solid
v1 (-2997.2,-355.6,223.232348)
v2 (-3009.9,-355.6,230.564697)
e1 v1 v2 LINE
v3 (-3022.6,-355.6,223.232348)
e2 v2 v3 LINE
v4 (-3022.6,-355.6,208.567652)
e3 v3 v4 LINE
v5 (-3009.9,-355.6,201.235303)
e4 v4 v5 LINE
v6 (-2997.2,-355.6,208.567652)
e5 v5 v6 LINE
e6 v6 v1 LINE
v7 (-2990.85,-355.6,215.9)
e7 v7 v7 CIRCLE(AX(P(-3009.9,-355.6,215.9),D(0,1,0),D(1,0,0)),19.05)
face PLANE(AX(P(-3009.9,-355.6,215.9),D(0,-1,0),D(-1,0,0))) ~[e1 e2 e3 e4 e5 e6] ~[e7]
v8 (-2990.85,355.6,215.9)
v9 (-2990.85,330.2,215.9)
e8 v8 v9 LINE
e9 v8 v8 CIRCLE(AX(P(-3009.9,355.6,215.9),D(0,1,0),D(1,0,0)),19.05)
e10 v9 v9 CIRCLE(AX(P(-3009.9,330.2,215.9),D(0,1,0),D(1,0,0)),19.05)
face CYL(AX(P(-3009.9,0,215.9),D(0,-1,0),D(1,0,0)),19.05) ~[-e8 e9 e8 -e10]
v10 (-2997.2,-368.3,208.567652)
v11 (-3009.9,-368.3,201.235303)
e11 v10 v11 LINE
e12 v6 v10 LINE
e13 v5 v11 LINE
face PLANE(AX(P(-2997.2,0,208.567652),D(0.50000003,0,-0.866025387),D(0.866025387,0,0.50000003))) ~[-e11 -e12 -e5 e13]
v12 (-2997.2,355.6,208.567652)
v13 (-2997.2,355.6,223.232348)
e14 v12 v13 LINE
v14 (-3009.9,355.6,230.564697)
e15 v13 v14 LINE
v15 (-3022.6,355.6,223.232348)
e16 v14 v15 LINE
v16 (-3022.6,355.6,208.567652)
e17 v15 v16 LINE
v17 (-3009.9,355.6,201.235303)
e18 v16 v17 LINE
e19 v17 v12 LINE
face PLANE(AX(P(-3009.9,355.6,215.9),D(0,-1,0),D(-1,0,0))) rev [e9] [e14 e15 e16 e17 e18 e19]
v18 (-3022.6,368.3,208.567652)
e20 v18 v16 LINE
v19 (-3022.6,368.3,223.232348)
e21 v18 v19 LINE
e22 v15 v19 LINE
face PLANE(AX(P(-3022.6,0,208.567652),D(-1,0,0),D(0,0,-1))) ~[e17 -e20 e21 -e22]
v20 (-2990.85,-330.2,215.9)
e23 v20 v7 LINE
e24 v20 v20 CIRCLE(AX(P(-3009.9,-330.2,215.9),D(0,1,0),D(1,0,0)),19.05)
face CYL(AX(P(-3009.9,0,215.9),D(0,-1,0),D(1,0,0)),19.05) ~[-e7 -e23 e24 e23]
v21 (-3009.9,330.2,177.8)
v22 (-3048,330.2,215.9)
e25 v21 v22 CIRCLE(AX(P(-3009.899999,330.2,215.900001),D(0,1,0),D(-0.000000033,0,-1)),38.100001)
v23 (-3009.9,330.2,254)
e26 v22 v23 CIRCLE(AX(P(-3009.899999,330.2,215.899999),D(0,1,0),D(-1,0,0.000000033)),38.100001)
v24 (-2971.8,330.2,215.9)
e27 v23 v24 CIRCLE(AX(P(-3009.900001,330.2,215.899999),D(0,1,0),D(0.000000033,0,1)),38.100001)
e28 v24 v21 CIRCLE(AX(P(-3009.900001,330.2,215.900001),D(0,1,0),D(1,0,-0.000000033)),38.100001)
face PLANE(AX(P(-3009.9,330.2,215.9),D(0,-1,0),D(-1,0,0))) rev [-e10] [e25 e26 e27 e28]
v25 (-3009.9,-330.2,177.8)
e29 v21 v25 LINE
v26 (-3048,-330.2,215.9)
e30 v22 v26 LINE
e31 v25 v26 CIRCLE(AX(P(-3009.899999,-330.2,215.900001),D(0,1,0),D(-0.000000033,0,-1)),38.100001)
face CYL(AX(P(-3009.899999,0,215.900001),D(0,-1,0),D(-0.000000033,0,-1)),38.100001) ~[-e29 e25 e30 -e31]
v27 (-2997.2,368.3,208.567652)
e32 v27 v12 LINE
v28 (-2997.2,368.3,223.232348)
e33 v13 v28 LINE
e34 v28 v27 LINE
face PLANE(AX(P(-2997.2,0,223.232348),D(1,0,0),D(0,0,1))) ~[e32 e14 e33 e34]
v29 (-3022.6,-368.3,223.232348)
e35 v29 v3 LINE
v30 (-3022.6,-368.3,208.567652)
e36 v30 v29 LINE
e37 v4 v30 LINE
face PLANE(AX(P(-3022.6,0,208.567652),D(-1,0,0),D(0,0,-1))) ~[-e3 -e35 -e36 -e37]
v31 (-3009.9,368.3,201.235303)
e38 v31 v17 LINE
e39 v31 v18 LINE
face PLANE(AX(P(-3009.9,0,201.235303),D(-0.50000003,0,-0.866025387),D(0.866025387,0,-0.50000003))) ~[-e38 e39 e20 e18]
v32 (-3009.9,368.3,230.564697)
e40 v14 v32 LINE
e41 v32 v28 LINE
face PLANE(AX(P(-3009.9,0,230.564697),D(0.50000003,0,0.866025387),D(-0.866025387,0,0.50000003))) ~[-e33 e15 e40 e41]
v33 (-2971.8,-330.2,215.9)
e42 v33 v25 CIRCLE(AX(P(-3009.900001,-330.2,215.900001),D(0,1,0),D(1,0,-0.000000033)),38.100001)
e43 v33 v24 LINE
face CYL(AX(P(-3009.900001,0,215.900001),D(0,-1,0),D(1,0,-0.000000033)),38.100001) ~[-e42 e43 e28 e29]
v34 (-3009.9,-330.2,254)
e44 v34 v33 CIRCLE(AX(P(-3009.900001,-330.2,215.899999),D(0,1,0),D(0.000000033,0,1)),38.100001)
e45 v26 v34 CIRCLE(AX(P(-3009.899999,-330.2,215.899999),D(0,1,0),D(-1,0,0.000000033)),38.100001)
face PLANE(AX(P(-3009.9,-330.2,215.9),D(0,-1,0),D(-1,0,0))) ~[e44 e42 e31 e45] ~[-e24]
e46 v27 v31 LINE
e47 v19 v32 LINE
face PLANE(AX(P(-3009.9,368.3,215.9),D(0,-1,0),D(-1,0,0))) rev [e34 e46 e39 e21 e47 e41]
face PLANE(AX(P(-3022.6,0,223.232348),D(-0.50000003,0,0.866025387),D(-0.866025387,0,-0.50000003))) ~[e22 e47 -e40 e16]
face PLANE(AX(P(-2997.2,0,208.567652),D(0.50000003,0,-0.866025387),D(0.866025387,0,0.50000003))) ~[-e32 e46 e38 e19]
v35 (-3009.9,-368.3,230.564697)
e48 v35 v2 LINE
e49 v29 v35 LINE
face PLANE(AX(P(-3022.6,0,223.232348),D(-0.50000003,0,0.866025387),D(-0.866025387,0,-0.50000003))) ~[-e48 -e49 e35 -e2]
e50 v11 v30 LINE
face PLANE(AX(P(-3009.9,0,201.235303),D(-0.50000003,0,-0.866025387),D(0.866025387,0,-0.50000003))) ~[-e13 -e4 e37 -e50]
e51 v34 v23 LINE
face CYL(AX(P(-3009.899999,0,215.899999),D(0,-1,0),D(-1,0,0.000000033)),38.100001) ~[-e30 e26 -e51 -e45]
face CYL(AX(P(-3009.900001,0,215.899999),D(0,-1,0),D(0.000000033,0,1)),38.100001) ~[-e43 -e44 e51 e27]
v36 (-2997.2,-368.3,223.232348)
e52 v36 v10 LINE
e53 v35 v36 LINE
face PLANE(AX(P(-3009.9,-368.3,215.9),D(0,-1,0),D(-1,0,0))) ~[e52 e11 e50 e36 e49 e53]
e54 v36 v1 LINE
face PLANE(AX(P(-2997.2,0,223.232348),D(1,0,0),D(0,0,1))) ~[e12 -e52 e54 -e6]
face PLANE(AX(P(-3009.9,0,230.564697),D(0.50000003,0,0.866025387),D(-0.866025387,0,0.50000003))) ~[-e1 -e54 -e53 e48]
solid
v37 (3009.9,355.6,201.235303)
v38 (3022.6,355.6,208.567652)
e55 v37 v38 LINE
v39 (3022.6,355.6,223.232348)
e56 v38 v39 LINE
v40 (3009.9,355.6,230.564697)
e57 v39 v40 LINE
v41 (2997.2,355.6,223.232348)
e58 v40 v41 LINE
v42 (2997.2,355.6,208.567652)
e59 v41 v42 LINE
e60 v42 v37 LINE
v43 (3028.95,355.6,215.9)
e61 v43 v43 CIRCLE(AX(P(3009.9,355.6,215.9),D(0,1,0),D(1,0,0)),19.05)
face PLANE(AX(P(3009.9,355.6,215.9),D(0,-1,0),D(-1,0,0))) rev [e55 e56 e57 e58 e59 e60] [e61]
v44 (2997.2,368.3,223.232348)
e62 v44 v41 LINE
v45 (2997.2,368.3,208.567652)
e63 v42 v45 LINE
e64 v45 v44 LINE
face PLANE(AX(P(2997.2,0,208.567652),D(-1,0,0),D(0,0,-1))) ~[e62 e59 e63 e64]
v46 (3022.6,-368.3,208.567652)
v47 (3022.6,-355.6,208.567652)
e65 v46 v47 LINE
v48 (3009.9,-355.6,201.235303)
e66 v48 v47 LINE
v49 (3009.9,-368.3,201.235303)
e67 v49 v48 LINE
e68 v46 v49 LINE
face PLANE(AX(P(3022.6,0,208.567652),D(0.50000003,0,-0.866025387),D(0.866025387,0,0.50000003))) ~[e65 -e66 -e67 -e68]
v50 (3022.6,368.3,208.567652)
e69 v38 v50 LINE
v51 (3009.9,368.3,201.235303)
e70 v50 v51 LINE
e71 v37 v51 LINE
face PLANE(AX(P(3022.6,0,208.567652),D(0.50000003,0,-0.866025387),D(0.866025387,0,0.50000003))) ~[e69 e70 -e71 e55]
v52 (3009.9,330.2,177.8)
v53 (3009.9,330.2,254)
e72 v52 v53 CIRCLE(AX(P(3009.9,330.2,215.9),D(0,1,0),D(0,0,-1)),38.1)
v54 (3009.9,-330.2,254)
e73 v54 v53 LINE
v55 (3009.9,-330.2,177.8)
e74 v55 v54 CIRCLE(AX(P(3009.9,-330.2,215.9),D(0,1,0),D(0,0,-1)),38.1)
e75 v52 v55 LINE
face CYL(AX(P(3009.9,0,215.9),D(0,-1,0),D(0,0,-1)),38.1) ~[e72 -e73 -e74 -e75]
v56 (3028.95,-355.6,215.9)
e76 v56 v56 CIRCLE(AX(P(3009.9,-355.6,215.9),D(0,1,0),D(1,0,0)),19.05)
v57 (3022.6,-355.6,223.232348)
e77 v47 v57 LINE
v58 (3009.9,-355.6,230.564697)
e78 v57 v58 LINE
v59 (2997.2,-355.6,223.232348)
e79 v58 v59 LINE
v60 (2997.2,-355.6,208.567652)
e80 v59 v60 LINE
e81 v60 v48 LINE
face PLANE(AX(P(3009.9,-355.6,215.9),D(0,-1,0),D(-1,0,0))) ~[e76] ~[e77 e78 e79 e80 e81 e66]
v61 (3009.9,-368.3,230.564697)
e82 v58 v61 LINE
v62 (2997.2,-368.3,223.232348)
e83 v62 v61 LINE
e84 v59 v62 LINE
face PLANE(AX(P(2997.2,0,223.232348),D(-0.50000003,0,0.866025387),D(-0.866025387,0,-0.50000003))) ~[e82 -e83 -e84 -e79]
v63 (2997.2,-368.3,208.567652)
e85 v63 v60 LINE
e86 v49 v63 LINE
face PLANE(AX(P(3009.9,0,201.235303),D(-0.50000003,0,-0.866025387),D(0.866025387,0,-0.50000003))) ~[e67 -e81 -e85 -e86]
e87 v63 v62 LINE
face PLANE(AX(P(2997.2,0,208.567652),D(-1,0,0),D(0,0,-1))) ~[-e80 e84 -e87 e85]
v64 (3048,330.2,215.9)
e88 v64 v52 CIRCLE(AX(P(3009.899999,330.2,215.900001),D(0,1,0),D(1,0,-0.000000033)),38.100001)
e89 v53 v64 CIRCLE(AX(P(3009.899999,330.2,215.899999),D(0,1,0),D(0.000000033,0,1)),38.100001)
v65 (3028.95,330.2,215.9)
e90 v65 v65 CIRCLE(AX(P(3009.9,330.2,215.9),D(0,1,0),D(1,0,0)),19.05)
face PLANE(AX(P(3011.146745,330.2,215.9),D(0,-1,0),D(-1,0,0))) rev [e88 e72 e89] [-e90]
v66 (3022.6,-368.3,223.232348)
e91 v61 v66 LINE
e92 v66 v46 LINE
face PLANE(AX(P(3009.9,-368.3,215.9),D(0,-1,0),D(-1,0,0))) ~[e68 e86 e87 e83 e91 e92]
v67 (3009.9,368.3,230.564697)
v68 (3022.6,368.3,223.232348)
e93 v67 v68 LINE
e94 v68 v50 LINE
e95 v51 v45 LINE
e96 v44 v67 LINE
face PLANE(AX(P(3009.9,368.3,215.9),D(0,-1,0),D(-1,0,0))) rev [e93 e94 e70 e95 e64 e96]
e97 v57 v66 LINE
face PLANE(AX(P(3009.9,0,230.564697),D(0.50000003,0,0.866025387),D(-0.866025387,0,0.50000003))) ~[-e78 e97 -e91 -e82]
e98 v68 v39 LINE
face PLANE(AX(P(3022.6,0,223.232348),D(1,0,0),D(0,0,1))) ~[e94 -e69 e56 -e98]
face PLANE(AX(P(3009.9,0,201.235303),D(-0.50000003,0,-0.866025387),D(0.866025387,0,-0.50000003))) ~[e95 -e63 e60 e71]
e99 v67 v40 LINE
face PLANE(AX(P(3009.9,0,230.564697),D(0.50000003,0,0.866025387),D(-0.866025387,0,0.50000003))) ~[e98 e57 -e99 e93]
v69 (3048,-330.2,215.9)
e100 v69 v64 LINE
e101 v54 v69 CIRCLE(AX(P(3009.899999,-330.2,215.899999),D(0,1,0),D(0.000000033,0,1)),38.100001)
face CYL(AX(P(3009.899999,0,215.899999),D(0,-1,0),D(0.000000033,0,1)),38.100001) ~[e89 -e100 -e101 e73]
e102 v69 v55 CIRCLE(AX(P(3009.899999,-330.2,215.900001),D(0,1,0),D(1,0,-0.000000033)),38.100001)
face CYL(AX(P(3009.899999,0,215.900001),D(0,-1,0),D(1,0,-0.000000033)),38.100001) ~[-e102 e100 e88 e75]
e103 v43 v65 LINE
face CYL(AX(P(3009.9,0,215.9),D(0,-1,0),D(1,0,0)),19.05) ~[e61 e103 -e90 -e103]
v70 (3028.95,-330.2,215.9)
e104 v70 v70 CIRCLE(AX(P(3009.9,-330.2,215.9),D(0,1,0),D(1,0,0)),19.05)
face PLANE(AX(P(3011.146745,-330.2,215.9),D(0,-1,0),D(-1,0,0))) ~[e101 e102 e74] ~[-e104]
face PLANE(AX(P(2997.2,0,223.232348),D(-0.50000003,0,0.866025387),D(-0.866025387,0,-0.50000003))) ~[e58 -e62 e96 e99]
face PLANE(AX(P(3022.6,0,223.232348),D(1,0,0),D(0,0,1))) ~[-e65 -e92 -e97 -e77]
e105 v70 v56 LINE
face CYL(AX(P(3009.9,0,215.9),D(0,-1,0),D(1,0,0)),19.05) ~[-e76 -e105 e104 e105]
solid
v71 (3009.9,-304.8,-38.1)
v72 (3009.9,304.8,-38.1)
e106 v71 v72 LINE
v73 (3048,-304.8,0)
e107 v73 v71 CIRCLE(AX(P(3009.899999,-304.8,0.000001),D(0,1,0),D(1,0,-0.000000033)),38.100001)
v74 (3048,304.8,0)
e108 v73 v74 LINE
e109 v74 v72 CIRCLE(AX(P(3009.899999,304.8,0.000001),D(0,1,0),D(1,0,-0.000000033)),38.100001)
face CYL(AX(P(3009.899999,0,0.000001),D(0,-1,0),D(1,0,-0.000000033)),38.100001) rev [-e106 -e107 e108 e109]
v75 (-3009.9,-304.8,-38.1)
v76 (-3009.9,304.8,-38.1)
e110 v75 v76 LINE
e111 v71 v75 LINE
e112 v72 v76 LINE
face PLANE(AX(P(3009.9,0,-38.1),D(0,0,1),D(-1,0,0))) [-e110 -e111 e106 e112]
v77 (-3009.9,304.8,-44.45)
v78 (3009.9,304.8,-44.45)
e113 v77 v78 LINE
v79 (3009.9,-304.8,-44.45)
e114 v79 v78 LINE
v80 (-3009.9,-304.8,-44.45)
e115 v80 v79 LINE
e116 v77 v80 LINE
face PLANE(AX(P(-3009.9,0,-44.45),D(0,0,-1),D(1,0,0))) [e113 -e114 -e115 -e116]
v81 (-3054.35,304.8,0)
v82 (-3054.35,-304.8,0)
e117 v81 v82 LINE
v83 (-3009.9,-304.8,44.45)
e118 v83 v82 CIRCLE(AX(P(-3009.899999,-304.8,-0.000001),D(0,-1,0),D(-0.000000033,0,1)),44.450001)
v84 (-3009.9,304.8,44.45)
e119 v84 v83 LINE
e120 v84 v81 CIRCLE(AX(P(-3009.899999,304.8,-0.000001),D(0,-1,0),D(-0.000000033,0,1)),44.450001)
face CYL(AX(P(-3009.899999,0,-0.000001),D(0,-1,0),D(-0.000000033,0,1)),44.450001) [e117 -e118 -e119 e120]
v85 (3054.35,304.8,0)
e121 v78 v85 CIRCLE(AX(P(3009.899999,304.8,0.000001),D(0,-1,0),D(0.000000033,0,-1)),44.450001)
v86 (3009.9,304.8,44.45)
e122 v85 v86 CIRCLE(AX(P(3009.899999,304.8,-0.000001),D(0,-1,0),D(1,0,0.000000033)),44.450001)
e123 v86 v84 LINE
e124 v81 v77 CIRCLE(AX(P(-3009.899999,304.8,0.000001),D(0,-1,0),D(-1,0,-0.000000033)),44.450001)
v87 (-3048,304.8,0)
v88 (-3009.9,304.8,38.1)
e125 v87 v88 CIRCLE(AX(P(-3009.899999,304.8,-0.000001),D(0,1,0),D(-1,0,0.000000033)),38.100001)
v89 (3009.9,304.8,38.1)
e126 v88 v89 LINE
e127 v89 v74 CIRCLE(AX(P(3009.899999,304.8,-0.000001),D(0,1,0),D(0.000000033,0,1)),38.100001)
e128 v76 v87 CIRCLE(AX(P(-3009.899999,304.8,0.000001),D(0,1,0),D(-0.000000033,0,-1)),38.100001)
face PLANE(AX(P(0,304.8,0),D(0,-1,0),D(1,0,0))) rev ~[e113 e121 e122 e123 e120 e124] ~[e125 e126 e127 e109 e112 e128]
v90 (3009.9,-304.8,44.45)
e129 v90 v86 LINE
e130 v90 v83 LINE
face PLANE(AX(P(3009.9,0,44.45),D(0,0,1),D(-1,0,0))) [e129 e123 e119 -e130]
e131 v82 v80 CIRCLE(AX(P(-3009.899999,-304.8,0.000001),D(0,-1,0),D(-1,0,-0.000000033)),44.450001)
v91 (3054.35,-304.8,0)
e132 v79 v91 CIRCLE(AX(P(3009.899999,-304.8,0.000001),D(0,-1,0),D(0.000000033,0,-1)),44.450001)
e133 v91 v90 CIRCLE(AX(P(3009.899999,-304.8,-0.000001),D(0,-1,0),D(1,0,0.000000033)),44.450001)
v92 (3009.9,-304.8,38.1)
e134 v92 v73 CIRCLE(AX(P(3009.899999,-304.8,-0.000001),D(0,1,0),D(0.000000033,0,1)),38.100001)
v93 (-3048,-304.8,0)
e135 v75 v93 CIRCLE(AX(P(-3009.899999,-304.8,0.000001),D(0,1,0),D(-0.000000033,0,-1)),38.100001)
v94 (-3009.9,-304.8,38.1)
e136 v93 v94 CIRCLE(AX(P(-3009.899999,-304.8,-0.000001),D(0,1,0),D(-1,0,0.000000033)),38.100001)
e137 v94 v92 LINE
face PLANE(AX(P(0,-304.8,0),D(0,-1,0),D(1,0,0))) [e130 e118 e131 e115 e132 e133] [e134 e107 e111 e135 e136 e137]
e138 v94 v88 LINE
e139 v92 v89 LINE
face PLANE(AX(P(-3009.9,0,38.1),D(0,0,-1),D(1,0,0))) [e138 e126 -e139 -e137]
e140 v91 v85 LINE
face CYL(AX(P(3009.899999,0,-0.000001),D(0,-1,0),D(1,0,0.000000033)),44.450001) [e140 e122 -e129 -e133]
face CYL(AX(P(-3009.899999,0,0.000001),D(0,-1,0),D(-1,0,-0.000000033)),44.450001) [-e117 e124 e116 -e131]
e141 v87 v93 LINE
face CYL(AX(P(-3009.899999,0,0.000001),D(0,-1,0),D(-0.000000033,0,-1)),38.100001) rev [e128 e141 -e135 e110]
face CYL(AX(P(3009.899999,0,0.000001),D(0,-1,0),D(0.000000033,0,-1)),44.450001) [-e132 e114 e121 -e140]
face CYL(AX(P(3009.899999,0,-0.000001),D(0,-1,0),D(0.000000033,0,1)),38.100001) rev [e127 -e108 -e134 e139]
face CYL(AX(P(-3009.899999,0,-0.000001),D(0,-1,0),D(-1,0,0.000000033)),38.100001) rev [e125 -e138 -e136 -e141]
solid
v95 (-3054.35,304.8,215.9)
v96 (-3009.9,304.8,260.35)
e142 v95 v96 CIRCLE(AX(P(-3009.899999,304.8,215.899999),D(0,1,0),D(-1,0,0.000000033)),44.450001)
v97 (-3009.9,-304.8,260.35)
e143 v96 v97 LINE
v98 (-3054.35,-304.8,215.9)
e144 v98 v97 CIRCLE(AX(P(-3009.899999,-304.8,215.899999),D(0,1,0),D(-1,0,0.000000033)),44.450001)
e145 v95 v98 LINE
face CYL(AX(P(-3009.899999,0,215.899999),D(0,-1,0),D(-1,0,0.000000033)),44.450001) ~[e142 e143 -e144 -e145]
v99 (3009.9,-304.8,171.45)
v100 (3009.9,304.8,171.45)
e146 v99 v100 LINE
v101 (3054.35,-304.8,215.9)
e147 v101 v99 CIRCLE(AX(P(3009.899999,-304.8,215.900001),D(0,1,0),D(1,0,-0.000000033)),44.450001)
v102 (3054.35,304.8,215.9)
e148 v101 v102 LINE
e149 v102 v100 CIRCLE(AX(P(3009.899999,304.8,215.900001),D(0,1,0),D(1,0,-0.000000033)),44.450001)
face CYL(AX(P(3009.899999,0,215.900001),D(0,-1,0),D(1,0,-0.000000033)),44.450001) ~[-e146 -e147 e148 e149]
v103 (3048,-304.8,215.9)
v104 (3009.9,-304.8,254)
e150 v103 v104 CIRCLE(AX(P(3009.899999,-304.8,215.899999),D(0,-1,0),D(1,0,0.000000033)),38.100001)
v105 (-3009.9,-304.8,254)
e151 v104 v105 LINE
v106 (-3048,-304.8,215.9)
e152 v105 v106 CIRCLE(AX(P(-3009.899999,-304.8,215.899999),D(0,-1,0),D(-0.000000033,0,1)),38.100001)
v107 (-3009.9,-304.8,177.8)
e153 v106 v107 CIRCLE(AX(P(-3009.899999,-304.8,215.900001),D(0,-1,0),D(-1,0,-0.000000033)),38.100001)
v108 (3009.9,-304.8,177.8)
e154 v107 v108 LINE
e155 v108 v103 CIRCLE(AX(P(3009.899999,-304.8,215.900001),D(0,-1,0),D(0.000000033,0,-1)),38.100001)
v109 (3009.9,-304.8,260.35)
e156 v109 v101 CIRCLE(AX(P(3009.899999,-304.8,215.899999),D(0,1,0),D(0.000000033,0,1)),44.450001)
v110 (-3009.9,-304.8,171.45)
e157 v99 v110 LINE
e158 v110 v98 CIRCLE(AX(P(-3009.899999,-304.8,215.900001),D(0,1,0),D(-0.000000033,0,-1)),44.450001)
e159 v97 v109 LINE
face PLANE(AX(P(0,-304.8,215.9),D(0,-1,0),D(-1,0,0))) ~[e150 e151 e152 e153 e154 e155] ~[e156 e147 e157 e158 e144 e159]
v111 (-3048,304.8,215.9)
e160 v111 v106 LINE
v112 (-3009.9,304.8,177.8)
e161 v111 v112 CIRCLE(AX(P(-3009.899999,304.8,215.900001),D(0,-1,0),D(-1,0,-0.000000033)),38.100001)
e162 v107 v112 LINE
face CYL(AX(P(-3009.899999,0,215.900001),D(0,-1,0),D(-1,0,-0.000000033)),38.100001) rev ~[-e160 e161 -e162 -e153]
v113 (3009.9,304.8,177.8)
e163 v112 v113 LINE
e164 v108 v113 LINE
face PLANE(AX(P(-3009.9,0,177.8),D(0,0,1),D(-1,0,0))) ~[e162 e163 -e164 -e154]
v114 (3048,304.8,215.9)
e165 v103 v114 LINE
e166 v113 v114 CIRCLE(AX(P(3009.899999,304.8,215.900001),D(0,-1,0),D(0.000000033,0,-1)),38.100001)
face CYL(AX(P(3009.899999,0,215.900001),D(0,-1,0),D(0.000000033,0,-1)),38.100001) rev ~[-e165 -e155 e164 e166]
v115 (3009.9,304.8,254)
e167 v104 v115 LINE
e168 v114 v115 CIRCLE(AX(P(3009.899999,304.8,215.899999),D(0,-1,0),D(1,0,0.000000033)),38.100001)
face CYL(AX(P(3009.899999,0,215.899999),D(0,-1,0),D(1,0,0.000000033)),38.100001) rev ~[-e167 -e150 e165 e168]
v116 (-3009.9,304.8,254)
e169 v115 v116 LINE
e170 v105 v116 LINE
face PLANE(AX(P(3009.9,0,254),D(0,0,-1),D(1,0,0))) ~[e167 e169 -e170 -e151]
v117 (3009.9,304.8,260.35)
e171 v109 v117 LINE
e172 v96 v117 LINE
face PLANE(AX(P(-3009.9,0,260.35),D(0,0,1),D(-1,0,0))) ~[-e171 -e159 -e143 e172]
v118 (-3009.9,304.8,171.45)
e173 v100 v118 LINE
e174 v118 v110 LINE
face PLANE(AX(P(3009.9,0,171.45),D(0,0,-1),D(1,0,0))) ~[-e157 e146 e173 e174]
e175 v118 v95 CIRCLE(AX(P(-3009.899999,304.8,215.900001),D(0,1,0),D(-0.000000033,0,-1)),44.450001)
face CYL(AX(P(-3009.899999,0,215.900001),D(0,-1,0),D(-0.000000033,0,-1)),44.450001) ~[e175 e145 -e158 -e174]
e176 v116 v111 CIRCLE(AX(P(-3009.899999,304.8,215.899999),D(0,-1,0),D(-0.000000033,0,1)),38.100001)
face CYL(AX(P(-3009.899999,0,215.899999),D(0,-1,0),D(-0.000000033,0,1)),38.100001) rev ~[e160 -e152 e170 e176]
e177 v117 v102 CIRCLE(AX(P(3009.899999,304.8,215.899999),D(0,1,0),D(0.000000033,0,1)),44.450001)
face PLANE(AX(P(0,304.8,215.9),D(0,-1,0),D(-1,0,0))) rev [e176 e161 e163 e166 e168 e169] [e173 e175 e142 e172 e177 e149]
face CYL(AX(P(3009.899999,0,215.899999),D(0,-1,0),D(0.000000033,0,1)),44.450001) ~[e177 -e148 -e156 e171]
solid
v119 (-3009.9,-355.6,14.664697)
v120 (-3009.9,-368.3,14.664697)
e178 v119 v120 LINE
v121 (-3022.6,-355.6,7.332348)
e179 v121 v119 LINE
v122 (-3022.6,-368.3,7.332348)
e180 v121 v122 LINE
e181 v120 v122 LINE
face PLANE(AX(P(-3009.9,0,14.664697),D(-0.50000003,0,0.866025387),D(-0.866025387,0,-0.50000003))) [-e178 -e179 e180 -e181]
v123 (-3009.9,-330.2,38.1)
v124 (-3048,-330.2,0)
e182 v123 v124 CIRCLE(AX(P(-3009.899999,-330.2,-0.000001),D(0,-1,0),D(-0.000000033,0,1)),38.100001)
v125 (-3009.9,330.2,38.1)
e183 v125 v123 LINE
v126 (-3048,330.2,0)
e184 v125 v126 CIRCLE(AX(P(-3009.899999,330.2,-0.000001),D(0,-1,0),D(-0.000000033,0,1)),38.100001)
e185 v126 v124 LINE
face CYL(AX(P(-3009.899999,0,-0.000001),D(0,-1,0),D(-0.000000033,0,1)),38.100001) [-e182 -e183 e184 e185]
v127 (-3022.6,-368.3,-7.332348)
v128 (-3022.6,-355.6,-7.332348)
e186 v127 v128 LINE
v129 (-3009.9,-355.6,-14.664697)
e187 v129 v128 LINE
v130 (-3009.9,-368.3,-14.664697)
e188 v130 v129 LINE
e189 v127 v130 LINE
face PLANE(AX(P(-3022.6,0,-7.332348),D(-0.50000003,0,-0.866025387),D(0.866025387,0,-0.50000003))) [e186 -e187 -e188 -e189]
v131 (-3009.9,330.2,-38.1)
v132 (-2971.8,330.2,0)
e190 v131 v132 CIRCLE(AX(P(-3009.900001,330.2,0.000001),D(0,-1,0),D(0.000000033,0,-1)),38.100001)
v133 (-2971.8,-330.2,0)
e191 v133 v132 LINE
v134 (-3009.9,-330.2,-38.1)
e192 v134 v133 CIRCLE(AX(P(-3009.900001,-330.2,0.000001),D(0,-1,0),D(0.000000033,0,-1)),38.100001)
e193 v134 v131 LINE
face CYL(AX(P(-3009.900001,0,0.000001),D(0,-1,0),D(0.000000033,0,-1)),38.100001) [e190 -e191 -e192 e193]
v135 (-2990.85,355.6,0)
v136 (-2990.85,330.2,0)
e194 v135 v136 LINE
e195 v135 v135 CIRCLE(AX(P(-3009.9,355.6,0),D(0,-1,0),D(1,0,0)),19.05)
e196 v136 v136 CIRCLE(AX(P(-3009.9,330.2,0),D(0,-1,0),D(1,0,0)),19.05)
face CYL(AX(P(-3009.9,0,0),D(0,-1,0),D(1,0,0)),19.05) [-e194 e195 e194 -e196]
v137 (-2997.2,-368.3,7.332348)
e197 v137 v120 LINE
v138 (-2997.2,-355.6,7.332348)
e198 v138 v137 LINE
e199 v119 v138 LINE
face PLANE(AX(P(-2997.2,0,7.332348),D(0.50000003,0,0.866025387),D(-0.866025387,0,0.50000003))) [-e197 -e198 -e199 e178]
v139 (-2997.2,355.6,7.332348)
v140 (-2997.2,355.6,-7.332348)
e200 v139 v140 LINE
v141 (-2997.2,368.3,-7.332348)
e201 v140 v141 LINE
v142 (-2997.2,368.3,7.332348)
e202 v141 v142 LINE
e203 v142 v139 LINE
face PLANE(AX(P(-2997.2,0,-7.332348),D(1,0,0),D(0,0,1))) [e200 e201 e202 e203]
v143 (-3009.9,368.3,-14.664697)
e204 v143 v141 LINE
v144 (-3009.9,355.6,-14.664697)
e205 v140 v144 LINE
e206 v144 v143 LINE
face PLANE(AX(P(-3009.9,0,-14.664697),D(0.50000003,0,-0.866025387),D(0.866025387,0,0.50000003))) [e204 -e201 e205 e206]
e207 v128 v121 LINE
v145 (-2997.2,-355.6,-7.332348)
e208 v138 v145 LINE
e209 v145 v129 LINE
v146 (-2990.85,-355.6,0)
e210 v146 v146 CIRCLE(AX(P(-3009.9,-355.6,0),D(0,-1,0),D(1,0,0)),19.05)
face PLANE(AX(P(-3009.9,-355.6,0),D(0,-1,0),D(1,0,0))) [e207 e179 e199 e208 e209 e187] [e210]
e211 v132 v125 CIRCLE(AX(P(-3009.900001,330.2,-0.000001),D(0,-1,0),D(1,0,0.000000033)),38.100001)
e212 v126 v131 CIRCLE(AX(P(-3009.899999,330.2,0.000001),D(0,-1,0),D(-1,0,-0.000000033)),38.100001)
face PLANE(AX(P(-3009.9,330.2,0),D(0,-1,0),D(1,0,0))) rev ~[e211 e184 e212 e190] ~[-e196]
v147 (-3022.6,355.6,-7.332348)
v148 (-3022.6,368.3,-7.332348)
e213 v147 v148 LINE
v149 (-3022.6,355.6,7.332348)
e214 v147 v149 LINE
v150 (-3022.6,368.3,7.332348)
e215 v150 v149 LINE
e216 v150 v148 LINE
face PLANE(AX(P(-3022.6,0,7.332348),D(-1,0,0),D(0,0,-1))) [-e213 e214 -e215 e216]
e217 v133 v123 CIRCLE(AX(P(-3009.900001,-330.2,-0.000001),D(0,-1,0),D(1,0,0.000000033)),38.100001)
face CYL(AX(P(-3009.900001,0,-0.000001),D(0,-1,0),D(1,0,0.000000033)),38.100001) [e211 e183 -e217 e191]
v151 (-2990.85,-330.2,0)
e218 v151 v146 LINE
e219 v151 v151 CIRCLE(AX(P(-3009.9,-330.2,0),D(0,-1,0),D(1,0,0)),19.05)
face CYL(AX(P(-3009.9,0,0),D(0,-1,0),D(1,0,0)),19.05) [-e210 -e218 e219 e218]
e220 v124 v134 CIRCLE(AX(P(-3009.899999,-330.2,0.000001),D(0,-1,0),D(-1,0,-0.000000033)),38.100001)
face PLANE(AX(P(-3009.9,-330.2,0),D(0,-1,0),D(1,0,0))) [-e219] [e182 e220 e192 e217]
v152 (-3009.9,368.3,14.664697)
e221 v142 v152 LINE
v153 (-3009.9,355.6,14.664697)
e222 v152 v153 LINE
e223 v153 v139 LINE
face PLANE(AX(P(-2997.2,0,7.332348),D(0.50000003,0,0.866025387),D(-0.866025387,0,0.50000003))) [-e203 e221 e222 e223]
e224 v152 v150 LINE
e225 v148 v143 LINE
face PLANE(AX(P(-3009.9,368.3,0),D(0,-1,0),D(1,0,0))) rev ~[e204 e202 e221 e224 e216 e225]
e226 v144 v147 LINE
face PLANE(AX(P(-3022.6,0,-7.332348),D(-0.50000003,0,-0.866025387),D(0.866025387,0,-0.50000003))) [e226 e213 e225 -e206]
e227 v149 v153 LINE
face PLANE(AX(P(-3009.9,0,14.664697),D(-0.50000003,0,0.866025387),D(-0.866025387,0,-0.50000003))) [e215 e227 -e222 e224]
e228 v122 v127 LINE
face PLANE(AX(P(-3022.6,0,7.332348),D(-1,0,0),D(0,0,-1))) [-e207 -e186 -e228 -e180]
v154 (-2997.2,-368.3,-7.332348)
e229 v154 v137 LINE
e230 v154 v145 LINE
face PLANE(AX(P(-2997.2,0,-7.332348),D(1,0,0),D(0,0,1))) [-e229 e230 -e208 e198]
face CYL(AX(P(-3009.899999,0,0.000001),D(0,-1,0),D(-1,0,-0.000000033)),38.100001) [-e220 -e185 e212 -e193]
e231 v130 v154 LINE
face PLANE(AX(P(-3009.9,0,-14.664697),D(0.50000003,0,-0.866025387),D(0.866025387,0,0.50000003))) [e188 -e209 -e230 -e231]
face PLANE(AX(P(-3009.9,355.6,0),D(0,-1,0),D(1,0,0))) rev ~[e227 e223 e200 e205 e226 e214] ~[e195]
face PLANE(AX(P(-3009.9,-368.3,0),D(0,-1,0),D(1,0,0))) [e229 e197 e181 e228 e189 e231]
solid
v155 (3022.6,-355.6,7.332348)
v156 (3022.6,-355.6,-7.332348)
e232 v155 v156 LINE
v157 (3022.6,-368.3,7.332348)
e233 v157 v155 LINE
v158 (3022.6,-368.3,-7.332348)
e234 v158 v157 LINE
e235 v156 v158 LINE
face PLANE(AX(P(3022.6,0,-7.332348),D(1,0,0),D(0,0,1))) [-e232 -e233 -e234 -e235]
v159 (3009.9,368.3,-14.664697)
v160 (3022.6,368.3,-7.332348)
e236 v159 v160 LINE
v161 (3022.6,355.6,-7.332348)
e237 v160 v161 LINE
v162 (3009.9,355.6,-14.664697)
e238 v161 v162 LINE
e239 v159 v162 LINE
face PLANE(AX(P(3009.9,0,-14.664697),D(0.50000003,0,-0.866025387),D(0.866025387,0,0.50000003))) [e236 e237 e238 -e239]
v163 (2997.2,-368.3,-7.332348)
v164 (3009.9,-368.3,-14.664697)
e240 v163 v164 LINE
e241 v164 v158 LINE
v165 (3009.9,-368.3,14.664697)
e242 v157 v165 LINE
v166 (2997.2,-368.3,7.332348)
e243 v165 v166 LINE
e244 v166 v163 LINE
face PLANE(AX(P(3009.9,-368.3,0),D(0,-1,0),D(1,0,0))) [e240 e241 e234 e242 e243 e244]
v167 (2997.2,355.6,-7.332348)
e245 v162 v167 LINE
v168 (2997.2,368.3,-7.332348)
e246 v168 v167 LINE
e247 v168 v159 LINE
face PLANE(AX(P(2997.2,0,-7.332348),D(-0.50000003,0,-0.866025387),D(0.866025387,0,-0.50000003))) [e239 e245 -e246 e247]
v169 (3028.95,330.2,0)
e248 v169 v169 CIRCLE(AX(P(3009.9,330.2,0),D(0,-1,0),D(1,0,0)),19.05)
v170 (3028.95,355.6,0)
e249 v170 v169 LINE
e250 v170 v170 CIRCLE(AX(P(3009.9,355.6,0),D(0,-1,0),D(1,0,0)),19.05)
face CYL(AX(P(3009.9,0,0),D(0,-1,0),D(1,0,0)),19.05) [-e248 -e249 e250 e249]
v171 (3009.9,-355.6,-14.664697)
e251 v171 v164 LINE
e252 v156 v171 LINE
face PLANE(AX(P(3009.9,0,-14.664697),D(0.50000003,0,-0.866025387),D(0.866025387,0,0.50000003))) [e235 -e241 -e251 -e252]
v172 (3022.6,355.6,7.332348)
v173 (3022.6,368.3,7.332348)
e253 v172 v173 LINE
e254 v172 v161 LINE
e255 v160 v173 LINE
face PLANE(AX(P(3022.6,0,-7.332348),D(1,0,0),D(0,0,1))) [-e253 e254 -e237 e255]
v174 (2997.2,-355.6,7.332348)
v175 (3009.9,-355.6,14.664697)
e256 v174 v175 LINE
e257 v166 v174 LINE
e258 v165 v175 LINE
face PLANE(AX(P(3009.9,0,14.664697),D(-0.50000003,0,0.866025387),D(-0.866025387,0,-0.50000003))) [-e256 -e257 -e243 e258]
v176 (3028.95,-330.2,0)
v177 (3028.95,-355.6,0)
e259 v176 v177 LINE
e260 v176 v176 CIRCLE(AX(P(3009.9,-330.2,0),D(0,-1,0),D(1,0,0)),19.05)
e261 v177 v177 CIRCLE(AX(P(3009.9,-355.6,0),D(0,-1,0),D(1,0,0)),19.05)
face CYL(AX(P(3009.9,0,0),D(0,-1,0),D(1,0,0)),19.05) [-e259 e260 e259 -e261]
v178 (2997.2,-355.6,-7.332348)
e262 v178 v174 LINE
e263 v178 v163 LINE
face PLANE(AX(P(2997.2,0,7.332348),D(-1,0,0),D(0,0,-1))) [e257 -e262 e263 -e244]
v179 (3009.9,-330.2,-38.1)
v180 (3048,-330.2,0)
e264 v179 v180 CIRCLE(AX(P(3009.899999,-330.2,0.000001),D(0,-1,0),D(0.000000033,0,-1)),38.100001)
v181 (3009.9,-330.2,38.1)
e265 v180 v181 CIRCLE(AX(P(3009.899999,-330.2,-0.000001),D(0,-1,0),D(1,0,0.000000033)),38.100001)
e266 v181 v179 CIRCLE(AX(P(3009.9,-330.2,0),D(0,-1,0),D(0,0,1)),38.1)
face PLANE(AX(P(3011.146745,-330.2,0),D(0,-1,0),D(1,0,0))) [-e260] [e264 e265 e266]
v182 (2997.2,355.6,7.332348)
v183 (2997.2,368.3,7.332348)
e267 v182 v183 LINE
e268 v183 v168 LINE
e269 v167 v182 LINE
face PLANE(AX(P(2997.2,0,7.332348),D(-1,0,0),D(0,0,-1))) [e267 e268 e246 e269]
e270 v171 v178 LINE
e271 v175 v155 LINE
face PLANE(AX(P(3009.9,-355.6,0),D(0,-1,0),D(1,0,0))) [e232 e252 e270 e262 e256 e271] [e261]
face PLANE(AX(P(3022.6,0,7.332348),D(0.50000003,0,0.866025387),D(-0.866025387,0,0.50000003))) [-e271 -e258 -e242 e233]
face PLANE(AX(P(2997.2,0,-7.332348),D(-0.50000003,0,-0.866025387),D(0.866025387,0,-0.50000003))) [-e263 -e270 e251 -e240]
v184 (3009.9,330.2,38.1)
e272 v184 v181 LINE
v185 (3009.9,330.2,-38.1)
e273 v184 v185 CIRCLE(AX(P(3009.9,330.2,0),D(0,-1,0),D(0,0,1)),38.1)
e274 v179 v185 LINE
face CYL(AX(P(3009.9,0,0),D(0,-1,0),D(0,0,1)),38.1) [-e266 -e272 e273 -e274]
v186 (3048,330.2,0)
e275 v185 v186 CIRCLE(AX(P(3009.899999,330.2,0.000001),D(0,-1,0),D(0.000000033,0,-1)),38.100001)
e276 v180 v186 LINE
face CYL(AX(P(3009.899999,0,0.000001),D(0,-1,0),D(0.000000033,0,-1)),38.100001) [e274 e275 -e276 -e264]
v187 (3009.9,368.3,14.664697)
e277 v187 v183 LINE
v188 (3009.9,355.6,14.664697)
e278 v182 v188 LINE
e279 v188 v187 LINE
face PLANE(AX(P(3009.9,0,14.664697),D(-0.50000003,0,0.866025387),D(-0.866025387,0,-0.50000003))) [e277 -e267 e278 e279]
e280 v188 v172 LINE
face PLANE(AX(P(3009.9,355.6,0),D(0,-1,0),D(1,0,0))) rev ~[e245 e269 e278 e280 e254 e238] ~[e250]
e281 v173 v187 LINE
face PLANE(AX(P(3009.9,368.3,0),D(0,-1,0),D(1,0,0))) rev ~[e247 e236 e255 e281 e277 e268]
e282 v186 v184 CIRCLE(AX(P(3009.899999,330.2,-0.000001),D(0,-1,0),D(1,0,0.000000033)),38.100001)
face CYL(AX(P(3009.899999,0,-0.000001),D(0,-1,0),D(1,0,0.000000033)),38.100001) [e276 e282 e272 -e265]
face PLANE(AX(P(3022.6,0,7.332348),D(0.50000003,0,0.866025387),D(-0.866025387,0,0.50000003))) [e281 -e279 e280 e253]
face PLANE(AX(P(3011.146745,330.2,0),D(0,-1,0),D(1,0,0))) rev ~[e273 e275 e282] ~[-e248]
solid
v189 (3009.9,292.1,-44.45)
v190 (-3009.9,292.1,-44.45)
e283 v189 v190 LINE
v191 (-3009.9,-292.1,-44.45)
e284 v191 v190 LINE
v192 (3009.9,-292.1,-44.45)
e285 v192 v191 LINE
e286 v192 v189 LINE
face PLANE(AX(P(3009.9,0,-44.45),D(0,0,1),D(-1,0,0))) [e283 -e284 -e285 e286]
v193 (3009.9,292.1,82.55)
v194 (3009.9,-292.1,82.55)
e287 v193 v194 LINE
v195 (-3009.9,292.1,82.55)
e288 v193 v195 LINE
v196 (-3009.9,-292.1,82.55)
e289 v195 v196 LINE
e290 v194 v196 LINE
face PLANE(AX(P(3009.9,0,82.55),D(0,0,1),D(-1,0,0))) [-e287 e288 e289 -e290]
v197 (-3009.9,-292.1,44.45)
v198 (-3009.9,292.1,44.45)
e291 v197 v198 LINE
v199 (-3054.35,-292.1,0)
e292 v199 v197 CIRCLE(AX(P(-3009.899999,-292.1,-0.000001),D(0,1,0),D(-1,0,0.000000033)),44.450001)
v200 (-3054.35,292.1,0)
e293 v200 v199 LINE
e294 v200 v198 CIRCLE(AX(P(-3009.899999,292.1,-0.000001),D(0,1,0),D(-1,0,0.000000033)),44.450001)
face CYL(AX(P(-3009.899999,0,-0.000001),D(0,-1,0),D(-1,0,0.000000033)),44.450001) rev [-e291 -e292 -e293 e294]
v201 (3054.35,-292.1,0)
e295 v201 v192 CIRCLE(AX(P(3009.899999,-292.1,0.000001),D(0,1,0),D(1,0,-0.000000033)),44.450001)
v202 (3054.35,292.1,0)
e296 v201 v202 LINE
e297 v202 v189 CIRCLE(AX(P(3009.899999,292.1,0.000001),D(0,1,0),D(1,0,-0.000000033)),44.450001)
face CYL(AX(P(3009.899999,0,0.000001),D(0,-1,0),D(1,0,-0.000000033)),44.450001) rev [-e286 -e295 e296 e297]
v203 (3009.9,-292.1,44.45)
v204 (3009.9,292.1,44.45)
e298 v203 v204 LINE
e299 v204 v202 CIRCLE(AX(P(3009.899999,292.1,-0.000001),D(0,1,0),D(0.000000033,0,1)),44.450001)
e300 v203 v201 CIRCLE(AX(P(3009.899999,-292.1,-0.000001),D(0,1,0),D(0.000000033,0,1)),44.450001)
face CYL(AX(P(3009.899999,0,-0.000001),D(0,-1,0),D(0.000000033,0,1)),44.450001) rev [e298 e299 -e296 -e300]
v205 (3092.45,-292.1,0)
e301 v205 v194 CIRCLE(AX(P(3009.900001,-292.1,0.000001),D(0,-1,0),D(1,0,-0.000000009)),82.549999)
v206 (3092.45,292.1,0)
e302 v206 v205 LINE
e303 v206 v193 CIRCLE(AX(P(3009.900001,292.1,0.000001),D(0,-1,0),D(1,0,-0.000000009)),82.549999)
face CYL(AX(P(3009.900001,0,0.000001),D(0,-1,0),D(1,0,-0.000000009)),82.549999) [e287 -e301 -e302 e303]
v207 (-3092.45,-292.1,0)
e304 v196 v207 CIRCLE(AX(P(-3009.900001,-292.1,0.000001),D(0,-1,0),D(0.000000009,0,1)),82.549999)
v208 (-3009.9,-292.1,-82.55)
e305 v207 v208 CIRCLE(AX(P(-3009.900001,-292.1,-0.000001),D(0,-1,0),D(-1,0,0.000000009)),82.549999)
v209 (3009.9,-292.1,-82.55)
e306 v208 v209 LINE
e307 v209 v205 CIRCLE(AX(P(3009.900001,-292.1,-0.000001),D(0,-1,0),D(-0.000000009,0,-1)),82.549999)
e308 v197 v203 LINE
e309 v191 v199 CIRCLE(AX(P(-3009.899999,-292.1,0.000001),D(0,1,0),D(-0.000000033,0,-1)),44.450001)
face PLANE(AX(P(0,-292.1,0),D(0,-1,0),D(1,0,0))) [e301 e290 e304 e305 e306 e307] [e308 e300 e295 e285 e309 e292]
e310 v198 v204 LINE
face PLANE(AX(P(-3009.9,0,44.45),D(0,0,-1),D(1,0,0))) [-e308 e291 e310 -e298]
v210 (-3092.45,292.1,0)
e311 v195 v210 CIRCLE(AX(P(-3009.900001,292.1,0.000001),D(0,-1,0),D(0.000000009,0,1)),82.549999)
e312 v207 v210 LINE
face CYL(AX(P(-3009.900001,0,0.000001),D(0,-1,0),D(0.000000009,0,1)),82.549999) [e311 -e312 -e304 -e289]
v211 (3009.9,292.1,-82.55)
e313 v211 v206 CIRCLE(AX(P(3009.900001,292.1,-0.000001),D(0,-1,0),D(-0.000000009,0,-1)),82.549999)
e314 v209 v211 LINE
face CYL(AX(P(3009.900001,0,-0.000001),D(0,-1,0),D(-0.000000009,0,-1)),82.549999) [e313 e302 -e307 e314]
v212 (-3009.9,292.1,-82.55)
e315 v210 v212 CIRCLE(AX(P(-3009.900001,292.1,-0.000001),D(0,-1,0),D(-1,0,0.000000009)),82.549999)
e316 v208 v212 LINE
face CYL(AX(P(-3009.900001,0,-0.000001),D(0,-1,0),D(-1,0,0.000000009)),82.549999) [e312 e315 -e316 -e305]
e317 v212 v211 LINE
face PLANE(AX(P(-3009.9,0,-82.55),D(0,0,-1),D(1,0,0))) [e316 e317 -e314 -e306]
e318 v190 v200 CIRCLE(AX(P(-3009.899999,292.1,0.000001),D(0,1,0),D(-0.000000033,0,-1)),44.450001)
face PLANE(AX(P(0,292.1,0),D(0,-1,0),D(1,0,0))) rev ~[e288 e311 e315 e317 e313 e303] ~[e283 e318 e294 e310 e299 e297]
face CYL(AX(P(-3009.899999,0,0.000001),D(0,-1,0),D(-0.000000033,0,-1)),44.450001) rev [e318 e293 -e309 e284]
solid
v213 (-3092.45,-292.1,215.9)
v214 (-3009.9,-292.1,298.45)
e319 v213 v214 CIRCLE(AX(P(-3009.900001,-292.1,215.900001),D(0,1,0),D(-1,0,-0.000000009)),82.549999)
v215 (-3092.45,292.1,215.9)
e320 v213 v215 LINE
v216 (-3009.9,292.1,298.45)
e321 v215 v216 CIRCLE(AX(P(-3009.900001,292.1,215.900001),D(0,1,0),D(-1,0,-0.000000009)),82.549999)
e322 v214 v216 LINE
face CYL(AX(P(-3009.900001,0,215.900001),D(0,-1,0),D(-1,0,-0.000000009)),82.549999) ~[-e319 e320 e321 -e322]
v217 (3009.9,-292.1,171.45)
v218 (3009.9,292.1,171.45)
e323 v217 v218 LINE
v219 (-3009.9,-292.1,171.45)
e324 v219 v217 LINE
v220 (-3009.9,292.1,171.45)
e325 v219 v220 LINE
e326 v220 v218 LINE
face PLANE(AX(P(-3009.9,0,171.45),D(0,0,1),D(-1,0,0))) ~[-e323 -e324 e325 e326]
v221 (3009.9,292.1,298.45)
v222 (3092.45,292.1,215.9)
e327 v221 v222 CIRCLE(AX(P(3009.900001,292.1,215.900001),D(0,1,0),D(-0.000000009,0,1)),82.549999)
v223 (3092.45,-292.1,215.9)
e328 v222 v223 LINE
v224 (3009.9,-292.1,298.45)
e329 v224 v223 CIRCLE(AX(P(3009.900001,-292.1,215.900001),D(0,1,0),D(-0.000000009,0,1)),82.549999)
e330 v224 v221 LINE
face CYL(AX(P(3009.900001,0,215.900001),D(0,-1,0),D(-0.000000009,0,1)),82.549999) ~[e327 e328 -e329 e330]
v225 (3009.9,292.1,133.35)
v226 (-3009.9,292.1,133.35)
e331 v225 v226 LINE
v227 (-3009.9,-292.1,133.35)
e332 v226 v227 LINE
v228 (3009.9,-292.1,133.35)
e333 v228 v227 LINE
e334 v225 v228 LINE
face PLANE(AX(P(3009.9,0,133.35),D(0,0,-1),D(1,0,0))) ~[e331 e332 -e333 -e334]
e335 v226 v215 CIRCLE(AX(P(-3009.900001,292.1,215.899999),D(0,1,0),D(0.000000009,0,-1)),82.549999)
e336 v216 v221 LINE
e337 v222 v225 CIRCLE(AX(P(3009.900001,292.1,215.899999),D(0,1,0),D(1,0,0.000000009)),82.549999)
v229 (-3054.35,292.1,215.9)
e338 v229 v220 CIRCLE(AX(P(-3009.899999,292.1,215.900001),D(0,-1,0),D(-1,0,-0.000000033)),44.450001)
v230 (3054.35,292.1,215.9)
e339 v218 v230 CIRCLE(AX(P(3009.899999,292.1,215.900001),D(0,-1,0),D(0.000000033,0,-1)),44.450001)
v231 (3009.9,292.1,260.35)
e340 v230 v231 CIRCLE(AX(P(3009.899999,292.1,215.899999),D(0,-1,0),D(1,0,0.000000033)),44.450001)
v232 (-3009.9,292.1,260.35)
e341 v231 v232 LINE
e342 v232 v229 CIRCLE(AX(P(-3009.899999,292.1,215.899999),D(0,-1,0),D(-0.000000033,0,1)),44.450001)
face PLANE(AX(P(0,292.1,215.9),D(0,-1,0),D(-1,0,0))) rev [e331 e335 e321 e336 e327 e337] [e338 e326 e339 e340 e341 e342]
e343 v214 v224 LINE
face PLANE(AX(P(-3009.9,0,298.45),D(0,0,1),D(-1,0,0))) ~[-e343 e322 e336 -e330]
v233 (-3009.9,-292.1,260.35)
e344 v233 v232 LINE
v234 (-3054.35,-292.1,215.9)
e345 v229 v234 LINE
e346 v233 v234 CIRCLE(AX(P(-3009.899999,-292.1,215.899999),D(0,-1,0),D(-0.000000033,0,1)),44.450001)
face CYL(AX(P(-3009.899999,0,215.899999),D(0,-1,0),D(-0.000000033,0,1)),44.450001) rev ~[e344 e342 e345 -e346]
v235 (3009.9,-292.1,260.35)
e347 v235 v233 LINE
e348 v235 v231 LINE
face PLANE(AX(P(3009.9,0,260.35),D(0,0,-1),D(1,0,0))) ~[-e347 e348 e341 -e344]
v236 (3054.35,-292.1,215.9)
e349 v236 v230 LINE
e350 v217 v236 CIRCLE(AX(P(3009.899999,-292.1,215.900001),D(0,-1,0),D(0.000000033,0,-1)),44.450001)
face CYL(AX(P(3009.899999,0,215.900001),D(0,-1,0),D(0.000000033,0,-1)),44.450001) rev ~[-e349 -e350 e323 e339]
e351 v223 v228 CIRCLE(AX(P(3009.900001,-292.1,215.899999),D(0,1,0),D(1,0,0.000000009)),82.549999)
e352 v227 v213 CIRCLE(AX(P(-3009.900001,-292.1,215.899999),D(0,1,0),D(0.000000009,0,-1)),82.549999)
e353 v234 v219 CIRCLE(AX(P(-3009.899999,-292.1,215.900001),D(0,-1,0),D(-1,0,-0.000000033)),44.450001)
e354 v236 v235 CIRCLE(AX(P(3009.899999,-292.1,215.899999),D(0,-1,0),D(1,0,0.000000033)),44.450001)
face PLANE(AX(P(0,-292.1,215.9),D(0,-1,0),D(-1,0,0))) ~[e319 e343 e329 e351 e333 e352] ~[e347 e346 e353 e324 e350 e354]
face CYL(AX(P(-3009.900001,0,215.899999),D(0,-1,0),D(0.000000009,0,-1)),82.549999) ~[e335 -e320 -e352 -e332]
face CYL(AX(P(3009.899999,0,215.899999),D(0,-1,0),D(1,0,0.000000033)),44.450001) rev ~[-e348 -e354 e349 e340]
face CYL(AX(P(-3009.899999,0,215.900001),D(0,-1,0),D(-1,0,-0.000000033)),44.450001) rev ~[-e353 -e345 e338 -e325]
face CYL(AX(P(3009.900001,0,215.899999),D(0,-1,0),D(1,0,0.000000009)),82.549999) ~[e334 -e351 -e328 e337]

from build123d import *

# Parameters (mm, degrees)
F1_DEPTH = 304.8
F2_DEPTH = 292.1
F0_R     = 19.05
F3_DEPTH = 330.2
F4_DEPTH = 355.6
F5_DEPTH = 368.3
F6_DEPTH = 330.2
F7_DEPTH = 355.6
F8_DEPTH = 368.3


with BuildPart() as f1:
    # F0 (on Front) → F1 (new body, symmetric)
    with BuildSketch(Plane.XZ):
        with BuildLine():
            Line((3009.9, 44.45), (-3009.9, 44.45))
            ThreePointArc((-3009.9, 44.45), (-3041.330896, 31.430896), (-3054.35, 0))
            ThreePointArc((-3054.35, 0), (-3041.330896, -31.430896), (-3009.9, -44.45))
            Line((-3009.9, -44.45), (3009.9, -44.45))
            ThreePointArc((3009.9, -44.45), (3041.330896, -31.430896), (3054.35, 0))
            ThreePointArc((3054.35, 0), (3041.330896, 31.430896), (3009.9, 44.45))
        make_face()
        with BuildLine():
            ThreePointArc((-3048, 0), (-3036.840768, 26.940768), (-3009.9, 38.1))
            Line((-3009.9, 38.1), (-2874.632359, 38.1))
            Line((-2874.632359, 38.1), (2611.767641, 38.1))
            Line((2611.767641, 38.1), (3009.9, 38.1))
            ThreePointArc((3009.9, 38.1), (3036.840768, 26.940768), (3048, 0))
            ThreePointArc((3048, 0), (3036.840768, -26.940768), (3009.9, -38.1))
            Line((3009.9, -38.1), (-3009.9, -38.1))
            ThreePointArc((-3009.9, -38.1), (-3036.840768, -26.940768), (-3048, 0))
        make_face(mode=Mode.SUBTRACT)
    extrude(amount=F1_DEPTH, both=True)


with BuildPart() as f2:
    # F0 (on Front) → F2 (new body, symmetric)
    with BuildSketch(Plane.XZ):
        with BuildLine():
            ThreePointArc((3009.9, -82.55), (3068.271665, -58.371665), (3092.45, 0))
            ThreePointArc((3092.45, 0), (3068.271665, 58.371665), (3009.9, 82.55))
            Line((3009.9, 82.55), (-3009.9, 82.55))
            ThreePointArc((-3009.9, 82.55), (-3068.271665, 58.371665), (-3092.45, 0))
            ThreePointArc((-3092.45, 0), (-3068.271665, -58.371665), (-3009.9, -82.55))
            Line((-3009.9, -82.55), (3009.9, -82.55))
        make_face()
        with BuildLine():
            ThreePointArc((-3054.35, 0), (-3041.330896, 31.430896), (-3009.9, 44.45))
            Line((-3009.9, 44.45), (3009.9, 44.45))
            ThreePointArc((3009.9, 44.45), (3041.330896, 31.430896), (3054.35, 0))
            ThreePointArc((3054.35, 0), (3041.330896, -31.430896), (3009.9, -44.45))
            Line((3009.9, -44.45), (-3009.9, -44.45))
            ThreePointArc((-3009.9, -44.45), (-3041.330896, -31.430896), (-3054.35, 0))
        make_face(mode=Mode.SUBTRACT)
    extrude(amount=F2_DEPTH, both=True)


with BuildPart() as f3:
    # F0 (on Front) → F3 (new body, symmetric)
    with BuildSketch(Plane.XZ):
        with BuildLine():
            ThreePointArc((3048, 0), (3036.840768, 26.940768), (3009.9, 38.1))
            ThreePointArc((3009.9, 38.1), (2971.8, 0), (3009.9, -38.1))
            ThreePointArc((3009.9, -38.1), (3036.840768, -26.940768), (3048, 0))
        make_face()
        with Locations((3009.9, 0)):
            Circle(F0_R, mode=Mode.SUBTRACT)
    extrude(amount=F3_DEPTH, both=True)

    # F0 (on Front) → F4 (join, symmetric)
    with BuildSketch(Plane.XZ):
        with Locations((3009.9, 0)):
            Circle(F0_R)
        Polygon((3009.9, -14.664697), (2997.2, -7.332348), (2997.2, 7.332348), (3009.9, 14.664697), (3022.6, 7.332348), (3022.6, -7.332348), align=None, mode=Mode.SUBTRACT)
    extrude(amount=F4_DEPTH, both=True)

    # F0 (on Front) → F5 (join, symmetric)
    with BuildSketch(Plane.XZ):
        Polygon((2997.2, 7.332348), (2997.2, -7.332348), (3009.9, -14.664697), (3022.6, -7.332348), (3022.6, 7.332348), (3009.9, 14.664697), align=None)
    extrude(amount=F5_DEPTH, both=True)


with BuildPart() as f6:
    # F0 (on Front) → F6 (new body, symmetric)
    with BuildSketch(Plane.XZ):
        with BuildLine():
            ThreePointArc((-2971.8, 0), (-2982.959232, 26.940768), (-3009.9, 38.1))
            ThreePointArc((-3009.9, 38.1), (-3036.840768, 26.940768), (-3048, 0))
            ThreePointArc((-3048, 0), (-3036.840768, -26.940768), (-3009.9, -38.1))
            ThreePointArc((-3009.9, -38.1), (-2982.959232, -26.940768), (-2971.8, 0))
        make_face()
        with Locations((-3009.9, 0)):
            Circle(F0_R, mode=Mode.SUBTRACT)
    extrude(amount=F6_DEPTH, both=True)

    # F0 (on Front) → F7 (join, symmetric)
    with BuildSketch(Plane.XZ):
        with Locations((-3009.9, 0)):
            Circle(F0_R)
        Polygon((-3009.9, 14.664697), (-2997.2, 7.332348), (-2997.2, -7.332348), (-3009.9, -14.664697), (-3022.6, -7.332348), (-3022.6, 7.332348), align=None, mode=Mode.SUBTRACT)
    extrude(amount=F7_DEPTH, both=True)

    # F0 (on Front) → F8 (join, symmetric)
    with BuildSketch(Plane.XZ):
        Polygon((-2997.2, -7.332348), (-2997.2, 7.332348), (-3009.9, 14.664697), (-3022.6, 7.332348), (-3022.6, -7.332348), (-3009.9, -14.664697), align=None)
    extrude(amount=F8_DEPTH, both=True)


with BuildPart() as f10_1:
    # F10: instance of F2
    add(f2.part.mirror(Plane(origin=(0, -146.05, 107.95), x_dir=(1, 0, 0), z_dir=(0, 0, 1))))


with BuildPart() as f10_2:
    # F10: instance of F1
    add(f1.part.mirror(Plane(origin=(0, -146.05, 107.95), x_dir=(1, 0, 0), z_dir=(0, 0, 1))))


with BuildPart() as f10_3:
    # F10: instance of F3
    add(f3.part.mirror(Plane(origin=(0, -146.05, 107.95), x_dir=(1, 0, 0), z_dir=(0, 0, 1))))


with BuildPart() as f10_4:
    # F10: instance of F6
    add(f6.part.mirror(Plane(origin=(0, -146.05, 107.95), x_dir=(1, 0, 0), z_dir=(0, 0, 1))))


solid = Compound([f1.part, f2.part, f3.part, f6.part, f10_1.part, f10_2.part, f10_3.part, f10_4.part])
